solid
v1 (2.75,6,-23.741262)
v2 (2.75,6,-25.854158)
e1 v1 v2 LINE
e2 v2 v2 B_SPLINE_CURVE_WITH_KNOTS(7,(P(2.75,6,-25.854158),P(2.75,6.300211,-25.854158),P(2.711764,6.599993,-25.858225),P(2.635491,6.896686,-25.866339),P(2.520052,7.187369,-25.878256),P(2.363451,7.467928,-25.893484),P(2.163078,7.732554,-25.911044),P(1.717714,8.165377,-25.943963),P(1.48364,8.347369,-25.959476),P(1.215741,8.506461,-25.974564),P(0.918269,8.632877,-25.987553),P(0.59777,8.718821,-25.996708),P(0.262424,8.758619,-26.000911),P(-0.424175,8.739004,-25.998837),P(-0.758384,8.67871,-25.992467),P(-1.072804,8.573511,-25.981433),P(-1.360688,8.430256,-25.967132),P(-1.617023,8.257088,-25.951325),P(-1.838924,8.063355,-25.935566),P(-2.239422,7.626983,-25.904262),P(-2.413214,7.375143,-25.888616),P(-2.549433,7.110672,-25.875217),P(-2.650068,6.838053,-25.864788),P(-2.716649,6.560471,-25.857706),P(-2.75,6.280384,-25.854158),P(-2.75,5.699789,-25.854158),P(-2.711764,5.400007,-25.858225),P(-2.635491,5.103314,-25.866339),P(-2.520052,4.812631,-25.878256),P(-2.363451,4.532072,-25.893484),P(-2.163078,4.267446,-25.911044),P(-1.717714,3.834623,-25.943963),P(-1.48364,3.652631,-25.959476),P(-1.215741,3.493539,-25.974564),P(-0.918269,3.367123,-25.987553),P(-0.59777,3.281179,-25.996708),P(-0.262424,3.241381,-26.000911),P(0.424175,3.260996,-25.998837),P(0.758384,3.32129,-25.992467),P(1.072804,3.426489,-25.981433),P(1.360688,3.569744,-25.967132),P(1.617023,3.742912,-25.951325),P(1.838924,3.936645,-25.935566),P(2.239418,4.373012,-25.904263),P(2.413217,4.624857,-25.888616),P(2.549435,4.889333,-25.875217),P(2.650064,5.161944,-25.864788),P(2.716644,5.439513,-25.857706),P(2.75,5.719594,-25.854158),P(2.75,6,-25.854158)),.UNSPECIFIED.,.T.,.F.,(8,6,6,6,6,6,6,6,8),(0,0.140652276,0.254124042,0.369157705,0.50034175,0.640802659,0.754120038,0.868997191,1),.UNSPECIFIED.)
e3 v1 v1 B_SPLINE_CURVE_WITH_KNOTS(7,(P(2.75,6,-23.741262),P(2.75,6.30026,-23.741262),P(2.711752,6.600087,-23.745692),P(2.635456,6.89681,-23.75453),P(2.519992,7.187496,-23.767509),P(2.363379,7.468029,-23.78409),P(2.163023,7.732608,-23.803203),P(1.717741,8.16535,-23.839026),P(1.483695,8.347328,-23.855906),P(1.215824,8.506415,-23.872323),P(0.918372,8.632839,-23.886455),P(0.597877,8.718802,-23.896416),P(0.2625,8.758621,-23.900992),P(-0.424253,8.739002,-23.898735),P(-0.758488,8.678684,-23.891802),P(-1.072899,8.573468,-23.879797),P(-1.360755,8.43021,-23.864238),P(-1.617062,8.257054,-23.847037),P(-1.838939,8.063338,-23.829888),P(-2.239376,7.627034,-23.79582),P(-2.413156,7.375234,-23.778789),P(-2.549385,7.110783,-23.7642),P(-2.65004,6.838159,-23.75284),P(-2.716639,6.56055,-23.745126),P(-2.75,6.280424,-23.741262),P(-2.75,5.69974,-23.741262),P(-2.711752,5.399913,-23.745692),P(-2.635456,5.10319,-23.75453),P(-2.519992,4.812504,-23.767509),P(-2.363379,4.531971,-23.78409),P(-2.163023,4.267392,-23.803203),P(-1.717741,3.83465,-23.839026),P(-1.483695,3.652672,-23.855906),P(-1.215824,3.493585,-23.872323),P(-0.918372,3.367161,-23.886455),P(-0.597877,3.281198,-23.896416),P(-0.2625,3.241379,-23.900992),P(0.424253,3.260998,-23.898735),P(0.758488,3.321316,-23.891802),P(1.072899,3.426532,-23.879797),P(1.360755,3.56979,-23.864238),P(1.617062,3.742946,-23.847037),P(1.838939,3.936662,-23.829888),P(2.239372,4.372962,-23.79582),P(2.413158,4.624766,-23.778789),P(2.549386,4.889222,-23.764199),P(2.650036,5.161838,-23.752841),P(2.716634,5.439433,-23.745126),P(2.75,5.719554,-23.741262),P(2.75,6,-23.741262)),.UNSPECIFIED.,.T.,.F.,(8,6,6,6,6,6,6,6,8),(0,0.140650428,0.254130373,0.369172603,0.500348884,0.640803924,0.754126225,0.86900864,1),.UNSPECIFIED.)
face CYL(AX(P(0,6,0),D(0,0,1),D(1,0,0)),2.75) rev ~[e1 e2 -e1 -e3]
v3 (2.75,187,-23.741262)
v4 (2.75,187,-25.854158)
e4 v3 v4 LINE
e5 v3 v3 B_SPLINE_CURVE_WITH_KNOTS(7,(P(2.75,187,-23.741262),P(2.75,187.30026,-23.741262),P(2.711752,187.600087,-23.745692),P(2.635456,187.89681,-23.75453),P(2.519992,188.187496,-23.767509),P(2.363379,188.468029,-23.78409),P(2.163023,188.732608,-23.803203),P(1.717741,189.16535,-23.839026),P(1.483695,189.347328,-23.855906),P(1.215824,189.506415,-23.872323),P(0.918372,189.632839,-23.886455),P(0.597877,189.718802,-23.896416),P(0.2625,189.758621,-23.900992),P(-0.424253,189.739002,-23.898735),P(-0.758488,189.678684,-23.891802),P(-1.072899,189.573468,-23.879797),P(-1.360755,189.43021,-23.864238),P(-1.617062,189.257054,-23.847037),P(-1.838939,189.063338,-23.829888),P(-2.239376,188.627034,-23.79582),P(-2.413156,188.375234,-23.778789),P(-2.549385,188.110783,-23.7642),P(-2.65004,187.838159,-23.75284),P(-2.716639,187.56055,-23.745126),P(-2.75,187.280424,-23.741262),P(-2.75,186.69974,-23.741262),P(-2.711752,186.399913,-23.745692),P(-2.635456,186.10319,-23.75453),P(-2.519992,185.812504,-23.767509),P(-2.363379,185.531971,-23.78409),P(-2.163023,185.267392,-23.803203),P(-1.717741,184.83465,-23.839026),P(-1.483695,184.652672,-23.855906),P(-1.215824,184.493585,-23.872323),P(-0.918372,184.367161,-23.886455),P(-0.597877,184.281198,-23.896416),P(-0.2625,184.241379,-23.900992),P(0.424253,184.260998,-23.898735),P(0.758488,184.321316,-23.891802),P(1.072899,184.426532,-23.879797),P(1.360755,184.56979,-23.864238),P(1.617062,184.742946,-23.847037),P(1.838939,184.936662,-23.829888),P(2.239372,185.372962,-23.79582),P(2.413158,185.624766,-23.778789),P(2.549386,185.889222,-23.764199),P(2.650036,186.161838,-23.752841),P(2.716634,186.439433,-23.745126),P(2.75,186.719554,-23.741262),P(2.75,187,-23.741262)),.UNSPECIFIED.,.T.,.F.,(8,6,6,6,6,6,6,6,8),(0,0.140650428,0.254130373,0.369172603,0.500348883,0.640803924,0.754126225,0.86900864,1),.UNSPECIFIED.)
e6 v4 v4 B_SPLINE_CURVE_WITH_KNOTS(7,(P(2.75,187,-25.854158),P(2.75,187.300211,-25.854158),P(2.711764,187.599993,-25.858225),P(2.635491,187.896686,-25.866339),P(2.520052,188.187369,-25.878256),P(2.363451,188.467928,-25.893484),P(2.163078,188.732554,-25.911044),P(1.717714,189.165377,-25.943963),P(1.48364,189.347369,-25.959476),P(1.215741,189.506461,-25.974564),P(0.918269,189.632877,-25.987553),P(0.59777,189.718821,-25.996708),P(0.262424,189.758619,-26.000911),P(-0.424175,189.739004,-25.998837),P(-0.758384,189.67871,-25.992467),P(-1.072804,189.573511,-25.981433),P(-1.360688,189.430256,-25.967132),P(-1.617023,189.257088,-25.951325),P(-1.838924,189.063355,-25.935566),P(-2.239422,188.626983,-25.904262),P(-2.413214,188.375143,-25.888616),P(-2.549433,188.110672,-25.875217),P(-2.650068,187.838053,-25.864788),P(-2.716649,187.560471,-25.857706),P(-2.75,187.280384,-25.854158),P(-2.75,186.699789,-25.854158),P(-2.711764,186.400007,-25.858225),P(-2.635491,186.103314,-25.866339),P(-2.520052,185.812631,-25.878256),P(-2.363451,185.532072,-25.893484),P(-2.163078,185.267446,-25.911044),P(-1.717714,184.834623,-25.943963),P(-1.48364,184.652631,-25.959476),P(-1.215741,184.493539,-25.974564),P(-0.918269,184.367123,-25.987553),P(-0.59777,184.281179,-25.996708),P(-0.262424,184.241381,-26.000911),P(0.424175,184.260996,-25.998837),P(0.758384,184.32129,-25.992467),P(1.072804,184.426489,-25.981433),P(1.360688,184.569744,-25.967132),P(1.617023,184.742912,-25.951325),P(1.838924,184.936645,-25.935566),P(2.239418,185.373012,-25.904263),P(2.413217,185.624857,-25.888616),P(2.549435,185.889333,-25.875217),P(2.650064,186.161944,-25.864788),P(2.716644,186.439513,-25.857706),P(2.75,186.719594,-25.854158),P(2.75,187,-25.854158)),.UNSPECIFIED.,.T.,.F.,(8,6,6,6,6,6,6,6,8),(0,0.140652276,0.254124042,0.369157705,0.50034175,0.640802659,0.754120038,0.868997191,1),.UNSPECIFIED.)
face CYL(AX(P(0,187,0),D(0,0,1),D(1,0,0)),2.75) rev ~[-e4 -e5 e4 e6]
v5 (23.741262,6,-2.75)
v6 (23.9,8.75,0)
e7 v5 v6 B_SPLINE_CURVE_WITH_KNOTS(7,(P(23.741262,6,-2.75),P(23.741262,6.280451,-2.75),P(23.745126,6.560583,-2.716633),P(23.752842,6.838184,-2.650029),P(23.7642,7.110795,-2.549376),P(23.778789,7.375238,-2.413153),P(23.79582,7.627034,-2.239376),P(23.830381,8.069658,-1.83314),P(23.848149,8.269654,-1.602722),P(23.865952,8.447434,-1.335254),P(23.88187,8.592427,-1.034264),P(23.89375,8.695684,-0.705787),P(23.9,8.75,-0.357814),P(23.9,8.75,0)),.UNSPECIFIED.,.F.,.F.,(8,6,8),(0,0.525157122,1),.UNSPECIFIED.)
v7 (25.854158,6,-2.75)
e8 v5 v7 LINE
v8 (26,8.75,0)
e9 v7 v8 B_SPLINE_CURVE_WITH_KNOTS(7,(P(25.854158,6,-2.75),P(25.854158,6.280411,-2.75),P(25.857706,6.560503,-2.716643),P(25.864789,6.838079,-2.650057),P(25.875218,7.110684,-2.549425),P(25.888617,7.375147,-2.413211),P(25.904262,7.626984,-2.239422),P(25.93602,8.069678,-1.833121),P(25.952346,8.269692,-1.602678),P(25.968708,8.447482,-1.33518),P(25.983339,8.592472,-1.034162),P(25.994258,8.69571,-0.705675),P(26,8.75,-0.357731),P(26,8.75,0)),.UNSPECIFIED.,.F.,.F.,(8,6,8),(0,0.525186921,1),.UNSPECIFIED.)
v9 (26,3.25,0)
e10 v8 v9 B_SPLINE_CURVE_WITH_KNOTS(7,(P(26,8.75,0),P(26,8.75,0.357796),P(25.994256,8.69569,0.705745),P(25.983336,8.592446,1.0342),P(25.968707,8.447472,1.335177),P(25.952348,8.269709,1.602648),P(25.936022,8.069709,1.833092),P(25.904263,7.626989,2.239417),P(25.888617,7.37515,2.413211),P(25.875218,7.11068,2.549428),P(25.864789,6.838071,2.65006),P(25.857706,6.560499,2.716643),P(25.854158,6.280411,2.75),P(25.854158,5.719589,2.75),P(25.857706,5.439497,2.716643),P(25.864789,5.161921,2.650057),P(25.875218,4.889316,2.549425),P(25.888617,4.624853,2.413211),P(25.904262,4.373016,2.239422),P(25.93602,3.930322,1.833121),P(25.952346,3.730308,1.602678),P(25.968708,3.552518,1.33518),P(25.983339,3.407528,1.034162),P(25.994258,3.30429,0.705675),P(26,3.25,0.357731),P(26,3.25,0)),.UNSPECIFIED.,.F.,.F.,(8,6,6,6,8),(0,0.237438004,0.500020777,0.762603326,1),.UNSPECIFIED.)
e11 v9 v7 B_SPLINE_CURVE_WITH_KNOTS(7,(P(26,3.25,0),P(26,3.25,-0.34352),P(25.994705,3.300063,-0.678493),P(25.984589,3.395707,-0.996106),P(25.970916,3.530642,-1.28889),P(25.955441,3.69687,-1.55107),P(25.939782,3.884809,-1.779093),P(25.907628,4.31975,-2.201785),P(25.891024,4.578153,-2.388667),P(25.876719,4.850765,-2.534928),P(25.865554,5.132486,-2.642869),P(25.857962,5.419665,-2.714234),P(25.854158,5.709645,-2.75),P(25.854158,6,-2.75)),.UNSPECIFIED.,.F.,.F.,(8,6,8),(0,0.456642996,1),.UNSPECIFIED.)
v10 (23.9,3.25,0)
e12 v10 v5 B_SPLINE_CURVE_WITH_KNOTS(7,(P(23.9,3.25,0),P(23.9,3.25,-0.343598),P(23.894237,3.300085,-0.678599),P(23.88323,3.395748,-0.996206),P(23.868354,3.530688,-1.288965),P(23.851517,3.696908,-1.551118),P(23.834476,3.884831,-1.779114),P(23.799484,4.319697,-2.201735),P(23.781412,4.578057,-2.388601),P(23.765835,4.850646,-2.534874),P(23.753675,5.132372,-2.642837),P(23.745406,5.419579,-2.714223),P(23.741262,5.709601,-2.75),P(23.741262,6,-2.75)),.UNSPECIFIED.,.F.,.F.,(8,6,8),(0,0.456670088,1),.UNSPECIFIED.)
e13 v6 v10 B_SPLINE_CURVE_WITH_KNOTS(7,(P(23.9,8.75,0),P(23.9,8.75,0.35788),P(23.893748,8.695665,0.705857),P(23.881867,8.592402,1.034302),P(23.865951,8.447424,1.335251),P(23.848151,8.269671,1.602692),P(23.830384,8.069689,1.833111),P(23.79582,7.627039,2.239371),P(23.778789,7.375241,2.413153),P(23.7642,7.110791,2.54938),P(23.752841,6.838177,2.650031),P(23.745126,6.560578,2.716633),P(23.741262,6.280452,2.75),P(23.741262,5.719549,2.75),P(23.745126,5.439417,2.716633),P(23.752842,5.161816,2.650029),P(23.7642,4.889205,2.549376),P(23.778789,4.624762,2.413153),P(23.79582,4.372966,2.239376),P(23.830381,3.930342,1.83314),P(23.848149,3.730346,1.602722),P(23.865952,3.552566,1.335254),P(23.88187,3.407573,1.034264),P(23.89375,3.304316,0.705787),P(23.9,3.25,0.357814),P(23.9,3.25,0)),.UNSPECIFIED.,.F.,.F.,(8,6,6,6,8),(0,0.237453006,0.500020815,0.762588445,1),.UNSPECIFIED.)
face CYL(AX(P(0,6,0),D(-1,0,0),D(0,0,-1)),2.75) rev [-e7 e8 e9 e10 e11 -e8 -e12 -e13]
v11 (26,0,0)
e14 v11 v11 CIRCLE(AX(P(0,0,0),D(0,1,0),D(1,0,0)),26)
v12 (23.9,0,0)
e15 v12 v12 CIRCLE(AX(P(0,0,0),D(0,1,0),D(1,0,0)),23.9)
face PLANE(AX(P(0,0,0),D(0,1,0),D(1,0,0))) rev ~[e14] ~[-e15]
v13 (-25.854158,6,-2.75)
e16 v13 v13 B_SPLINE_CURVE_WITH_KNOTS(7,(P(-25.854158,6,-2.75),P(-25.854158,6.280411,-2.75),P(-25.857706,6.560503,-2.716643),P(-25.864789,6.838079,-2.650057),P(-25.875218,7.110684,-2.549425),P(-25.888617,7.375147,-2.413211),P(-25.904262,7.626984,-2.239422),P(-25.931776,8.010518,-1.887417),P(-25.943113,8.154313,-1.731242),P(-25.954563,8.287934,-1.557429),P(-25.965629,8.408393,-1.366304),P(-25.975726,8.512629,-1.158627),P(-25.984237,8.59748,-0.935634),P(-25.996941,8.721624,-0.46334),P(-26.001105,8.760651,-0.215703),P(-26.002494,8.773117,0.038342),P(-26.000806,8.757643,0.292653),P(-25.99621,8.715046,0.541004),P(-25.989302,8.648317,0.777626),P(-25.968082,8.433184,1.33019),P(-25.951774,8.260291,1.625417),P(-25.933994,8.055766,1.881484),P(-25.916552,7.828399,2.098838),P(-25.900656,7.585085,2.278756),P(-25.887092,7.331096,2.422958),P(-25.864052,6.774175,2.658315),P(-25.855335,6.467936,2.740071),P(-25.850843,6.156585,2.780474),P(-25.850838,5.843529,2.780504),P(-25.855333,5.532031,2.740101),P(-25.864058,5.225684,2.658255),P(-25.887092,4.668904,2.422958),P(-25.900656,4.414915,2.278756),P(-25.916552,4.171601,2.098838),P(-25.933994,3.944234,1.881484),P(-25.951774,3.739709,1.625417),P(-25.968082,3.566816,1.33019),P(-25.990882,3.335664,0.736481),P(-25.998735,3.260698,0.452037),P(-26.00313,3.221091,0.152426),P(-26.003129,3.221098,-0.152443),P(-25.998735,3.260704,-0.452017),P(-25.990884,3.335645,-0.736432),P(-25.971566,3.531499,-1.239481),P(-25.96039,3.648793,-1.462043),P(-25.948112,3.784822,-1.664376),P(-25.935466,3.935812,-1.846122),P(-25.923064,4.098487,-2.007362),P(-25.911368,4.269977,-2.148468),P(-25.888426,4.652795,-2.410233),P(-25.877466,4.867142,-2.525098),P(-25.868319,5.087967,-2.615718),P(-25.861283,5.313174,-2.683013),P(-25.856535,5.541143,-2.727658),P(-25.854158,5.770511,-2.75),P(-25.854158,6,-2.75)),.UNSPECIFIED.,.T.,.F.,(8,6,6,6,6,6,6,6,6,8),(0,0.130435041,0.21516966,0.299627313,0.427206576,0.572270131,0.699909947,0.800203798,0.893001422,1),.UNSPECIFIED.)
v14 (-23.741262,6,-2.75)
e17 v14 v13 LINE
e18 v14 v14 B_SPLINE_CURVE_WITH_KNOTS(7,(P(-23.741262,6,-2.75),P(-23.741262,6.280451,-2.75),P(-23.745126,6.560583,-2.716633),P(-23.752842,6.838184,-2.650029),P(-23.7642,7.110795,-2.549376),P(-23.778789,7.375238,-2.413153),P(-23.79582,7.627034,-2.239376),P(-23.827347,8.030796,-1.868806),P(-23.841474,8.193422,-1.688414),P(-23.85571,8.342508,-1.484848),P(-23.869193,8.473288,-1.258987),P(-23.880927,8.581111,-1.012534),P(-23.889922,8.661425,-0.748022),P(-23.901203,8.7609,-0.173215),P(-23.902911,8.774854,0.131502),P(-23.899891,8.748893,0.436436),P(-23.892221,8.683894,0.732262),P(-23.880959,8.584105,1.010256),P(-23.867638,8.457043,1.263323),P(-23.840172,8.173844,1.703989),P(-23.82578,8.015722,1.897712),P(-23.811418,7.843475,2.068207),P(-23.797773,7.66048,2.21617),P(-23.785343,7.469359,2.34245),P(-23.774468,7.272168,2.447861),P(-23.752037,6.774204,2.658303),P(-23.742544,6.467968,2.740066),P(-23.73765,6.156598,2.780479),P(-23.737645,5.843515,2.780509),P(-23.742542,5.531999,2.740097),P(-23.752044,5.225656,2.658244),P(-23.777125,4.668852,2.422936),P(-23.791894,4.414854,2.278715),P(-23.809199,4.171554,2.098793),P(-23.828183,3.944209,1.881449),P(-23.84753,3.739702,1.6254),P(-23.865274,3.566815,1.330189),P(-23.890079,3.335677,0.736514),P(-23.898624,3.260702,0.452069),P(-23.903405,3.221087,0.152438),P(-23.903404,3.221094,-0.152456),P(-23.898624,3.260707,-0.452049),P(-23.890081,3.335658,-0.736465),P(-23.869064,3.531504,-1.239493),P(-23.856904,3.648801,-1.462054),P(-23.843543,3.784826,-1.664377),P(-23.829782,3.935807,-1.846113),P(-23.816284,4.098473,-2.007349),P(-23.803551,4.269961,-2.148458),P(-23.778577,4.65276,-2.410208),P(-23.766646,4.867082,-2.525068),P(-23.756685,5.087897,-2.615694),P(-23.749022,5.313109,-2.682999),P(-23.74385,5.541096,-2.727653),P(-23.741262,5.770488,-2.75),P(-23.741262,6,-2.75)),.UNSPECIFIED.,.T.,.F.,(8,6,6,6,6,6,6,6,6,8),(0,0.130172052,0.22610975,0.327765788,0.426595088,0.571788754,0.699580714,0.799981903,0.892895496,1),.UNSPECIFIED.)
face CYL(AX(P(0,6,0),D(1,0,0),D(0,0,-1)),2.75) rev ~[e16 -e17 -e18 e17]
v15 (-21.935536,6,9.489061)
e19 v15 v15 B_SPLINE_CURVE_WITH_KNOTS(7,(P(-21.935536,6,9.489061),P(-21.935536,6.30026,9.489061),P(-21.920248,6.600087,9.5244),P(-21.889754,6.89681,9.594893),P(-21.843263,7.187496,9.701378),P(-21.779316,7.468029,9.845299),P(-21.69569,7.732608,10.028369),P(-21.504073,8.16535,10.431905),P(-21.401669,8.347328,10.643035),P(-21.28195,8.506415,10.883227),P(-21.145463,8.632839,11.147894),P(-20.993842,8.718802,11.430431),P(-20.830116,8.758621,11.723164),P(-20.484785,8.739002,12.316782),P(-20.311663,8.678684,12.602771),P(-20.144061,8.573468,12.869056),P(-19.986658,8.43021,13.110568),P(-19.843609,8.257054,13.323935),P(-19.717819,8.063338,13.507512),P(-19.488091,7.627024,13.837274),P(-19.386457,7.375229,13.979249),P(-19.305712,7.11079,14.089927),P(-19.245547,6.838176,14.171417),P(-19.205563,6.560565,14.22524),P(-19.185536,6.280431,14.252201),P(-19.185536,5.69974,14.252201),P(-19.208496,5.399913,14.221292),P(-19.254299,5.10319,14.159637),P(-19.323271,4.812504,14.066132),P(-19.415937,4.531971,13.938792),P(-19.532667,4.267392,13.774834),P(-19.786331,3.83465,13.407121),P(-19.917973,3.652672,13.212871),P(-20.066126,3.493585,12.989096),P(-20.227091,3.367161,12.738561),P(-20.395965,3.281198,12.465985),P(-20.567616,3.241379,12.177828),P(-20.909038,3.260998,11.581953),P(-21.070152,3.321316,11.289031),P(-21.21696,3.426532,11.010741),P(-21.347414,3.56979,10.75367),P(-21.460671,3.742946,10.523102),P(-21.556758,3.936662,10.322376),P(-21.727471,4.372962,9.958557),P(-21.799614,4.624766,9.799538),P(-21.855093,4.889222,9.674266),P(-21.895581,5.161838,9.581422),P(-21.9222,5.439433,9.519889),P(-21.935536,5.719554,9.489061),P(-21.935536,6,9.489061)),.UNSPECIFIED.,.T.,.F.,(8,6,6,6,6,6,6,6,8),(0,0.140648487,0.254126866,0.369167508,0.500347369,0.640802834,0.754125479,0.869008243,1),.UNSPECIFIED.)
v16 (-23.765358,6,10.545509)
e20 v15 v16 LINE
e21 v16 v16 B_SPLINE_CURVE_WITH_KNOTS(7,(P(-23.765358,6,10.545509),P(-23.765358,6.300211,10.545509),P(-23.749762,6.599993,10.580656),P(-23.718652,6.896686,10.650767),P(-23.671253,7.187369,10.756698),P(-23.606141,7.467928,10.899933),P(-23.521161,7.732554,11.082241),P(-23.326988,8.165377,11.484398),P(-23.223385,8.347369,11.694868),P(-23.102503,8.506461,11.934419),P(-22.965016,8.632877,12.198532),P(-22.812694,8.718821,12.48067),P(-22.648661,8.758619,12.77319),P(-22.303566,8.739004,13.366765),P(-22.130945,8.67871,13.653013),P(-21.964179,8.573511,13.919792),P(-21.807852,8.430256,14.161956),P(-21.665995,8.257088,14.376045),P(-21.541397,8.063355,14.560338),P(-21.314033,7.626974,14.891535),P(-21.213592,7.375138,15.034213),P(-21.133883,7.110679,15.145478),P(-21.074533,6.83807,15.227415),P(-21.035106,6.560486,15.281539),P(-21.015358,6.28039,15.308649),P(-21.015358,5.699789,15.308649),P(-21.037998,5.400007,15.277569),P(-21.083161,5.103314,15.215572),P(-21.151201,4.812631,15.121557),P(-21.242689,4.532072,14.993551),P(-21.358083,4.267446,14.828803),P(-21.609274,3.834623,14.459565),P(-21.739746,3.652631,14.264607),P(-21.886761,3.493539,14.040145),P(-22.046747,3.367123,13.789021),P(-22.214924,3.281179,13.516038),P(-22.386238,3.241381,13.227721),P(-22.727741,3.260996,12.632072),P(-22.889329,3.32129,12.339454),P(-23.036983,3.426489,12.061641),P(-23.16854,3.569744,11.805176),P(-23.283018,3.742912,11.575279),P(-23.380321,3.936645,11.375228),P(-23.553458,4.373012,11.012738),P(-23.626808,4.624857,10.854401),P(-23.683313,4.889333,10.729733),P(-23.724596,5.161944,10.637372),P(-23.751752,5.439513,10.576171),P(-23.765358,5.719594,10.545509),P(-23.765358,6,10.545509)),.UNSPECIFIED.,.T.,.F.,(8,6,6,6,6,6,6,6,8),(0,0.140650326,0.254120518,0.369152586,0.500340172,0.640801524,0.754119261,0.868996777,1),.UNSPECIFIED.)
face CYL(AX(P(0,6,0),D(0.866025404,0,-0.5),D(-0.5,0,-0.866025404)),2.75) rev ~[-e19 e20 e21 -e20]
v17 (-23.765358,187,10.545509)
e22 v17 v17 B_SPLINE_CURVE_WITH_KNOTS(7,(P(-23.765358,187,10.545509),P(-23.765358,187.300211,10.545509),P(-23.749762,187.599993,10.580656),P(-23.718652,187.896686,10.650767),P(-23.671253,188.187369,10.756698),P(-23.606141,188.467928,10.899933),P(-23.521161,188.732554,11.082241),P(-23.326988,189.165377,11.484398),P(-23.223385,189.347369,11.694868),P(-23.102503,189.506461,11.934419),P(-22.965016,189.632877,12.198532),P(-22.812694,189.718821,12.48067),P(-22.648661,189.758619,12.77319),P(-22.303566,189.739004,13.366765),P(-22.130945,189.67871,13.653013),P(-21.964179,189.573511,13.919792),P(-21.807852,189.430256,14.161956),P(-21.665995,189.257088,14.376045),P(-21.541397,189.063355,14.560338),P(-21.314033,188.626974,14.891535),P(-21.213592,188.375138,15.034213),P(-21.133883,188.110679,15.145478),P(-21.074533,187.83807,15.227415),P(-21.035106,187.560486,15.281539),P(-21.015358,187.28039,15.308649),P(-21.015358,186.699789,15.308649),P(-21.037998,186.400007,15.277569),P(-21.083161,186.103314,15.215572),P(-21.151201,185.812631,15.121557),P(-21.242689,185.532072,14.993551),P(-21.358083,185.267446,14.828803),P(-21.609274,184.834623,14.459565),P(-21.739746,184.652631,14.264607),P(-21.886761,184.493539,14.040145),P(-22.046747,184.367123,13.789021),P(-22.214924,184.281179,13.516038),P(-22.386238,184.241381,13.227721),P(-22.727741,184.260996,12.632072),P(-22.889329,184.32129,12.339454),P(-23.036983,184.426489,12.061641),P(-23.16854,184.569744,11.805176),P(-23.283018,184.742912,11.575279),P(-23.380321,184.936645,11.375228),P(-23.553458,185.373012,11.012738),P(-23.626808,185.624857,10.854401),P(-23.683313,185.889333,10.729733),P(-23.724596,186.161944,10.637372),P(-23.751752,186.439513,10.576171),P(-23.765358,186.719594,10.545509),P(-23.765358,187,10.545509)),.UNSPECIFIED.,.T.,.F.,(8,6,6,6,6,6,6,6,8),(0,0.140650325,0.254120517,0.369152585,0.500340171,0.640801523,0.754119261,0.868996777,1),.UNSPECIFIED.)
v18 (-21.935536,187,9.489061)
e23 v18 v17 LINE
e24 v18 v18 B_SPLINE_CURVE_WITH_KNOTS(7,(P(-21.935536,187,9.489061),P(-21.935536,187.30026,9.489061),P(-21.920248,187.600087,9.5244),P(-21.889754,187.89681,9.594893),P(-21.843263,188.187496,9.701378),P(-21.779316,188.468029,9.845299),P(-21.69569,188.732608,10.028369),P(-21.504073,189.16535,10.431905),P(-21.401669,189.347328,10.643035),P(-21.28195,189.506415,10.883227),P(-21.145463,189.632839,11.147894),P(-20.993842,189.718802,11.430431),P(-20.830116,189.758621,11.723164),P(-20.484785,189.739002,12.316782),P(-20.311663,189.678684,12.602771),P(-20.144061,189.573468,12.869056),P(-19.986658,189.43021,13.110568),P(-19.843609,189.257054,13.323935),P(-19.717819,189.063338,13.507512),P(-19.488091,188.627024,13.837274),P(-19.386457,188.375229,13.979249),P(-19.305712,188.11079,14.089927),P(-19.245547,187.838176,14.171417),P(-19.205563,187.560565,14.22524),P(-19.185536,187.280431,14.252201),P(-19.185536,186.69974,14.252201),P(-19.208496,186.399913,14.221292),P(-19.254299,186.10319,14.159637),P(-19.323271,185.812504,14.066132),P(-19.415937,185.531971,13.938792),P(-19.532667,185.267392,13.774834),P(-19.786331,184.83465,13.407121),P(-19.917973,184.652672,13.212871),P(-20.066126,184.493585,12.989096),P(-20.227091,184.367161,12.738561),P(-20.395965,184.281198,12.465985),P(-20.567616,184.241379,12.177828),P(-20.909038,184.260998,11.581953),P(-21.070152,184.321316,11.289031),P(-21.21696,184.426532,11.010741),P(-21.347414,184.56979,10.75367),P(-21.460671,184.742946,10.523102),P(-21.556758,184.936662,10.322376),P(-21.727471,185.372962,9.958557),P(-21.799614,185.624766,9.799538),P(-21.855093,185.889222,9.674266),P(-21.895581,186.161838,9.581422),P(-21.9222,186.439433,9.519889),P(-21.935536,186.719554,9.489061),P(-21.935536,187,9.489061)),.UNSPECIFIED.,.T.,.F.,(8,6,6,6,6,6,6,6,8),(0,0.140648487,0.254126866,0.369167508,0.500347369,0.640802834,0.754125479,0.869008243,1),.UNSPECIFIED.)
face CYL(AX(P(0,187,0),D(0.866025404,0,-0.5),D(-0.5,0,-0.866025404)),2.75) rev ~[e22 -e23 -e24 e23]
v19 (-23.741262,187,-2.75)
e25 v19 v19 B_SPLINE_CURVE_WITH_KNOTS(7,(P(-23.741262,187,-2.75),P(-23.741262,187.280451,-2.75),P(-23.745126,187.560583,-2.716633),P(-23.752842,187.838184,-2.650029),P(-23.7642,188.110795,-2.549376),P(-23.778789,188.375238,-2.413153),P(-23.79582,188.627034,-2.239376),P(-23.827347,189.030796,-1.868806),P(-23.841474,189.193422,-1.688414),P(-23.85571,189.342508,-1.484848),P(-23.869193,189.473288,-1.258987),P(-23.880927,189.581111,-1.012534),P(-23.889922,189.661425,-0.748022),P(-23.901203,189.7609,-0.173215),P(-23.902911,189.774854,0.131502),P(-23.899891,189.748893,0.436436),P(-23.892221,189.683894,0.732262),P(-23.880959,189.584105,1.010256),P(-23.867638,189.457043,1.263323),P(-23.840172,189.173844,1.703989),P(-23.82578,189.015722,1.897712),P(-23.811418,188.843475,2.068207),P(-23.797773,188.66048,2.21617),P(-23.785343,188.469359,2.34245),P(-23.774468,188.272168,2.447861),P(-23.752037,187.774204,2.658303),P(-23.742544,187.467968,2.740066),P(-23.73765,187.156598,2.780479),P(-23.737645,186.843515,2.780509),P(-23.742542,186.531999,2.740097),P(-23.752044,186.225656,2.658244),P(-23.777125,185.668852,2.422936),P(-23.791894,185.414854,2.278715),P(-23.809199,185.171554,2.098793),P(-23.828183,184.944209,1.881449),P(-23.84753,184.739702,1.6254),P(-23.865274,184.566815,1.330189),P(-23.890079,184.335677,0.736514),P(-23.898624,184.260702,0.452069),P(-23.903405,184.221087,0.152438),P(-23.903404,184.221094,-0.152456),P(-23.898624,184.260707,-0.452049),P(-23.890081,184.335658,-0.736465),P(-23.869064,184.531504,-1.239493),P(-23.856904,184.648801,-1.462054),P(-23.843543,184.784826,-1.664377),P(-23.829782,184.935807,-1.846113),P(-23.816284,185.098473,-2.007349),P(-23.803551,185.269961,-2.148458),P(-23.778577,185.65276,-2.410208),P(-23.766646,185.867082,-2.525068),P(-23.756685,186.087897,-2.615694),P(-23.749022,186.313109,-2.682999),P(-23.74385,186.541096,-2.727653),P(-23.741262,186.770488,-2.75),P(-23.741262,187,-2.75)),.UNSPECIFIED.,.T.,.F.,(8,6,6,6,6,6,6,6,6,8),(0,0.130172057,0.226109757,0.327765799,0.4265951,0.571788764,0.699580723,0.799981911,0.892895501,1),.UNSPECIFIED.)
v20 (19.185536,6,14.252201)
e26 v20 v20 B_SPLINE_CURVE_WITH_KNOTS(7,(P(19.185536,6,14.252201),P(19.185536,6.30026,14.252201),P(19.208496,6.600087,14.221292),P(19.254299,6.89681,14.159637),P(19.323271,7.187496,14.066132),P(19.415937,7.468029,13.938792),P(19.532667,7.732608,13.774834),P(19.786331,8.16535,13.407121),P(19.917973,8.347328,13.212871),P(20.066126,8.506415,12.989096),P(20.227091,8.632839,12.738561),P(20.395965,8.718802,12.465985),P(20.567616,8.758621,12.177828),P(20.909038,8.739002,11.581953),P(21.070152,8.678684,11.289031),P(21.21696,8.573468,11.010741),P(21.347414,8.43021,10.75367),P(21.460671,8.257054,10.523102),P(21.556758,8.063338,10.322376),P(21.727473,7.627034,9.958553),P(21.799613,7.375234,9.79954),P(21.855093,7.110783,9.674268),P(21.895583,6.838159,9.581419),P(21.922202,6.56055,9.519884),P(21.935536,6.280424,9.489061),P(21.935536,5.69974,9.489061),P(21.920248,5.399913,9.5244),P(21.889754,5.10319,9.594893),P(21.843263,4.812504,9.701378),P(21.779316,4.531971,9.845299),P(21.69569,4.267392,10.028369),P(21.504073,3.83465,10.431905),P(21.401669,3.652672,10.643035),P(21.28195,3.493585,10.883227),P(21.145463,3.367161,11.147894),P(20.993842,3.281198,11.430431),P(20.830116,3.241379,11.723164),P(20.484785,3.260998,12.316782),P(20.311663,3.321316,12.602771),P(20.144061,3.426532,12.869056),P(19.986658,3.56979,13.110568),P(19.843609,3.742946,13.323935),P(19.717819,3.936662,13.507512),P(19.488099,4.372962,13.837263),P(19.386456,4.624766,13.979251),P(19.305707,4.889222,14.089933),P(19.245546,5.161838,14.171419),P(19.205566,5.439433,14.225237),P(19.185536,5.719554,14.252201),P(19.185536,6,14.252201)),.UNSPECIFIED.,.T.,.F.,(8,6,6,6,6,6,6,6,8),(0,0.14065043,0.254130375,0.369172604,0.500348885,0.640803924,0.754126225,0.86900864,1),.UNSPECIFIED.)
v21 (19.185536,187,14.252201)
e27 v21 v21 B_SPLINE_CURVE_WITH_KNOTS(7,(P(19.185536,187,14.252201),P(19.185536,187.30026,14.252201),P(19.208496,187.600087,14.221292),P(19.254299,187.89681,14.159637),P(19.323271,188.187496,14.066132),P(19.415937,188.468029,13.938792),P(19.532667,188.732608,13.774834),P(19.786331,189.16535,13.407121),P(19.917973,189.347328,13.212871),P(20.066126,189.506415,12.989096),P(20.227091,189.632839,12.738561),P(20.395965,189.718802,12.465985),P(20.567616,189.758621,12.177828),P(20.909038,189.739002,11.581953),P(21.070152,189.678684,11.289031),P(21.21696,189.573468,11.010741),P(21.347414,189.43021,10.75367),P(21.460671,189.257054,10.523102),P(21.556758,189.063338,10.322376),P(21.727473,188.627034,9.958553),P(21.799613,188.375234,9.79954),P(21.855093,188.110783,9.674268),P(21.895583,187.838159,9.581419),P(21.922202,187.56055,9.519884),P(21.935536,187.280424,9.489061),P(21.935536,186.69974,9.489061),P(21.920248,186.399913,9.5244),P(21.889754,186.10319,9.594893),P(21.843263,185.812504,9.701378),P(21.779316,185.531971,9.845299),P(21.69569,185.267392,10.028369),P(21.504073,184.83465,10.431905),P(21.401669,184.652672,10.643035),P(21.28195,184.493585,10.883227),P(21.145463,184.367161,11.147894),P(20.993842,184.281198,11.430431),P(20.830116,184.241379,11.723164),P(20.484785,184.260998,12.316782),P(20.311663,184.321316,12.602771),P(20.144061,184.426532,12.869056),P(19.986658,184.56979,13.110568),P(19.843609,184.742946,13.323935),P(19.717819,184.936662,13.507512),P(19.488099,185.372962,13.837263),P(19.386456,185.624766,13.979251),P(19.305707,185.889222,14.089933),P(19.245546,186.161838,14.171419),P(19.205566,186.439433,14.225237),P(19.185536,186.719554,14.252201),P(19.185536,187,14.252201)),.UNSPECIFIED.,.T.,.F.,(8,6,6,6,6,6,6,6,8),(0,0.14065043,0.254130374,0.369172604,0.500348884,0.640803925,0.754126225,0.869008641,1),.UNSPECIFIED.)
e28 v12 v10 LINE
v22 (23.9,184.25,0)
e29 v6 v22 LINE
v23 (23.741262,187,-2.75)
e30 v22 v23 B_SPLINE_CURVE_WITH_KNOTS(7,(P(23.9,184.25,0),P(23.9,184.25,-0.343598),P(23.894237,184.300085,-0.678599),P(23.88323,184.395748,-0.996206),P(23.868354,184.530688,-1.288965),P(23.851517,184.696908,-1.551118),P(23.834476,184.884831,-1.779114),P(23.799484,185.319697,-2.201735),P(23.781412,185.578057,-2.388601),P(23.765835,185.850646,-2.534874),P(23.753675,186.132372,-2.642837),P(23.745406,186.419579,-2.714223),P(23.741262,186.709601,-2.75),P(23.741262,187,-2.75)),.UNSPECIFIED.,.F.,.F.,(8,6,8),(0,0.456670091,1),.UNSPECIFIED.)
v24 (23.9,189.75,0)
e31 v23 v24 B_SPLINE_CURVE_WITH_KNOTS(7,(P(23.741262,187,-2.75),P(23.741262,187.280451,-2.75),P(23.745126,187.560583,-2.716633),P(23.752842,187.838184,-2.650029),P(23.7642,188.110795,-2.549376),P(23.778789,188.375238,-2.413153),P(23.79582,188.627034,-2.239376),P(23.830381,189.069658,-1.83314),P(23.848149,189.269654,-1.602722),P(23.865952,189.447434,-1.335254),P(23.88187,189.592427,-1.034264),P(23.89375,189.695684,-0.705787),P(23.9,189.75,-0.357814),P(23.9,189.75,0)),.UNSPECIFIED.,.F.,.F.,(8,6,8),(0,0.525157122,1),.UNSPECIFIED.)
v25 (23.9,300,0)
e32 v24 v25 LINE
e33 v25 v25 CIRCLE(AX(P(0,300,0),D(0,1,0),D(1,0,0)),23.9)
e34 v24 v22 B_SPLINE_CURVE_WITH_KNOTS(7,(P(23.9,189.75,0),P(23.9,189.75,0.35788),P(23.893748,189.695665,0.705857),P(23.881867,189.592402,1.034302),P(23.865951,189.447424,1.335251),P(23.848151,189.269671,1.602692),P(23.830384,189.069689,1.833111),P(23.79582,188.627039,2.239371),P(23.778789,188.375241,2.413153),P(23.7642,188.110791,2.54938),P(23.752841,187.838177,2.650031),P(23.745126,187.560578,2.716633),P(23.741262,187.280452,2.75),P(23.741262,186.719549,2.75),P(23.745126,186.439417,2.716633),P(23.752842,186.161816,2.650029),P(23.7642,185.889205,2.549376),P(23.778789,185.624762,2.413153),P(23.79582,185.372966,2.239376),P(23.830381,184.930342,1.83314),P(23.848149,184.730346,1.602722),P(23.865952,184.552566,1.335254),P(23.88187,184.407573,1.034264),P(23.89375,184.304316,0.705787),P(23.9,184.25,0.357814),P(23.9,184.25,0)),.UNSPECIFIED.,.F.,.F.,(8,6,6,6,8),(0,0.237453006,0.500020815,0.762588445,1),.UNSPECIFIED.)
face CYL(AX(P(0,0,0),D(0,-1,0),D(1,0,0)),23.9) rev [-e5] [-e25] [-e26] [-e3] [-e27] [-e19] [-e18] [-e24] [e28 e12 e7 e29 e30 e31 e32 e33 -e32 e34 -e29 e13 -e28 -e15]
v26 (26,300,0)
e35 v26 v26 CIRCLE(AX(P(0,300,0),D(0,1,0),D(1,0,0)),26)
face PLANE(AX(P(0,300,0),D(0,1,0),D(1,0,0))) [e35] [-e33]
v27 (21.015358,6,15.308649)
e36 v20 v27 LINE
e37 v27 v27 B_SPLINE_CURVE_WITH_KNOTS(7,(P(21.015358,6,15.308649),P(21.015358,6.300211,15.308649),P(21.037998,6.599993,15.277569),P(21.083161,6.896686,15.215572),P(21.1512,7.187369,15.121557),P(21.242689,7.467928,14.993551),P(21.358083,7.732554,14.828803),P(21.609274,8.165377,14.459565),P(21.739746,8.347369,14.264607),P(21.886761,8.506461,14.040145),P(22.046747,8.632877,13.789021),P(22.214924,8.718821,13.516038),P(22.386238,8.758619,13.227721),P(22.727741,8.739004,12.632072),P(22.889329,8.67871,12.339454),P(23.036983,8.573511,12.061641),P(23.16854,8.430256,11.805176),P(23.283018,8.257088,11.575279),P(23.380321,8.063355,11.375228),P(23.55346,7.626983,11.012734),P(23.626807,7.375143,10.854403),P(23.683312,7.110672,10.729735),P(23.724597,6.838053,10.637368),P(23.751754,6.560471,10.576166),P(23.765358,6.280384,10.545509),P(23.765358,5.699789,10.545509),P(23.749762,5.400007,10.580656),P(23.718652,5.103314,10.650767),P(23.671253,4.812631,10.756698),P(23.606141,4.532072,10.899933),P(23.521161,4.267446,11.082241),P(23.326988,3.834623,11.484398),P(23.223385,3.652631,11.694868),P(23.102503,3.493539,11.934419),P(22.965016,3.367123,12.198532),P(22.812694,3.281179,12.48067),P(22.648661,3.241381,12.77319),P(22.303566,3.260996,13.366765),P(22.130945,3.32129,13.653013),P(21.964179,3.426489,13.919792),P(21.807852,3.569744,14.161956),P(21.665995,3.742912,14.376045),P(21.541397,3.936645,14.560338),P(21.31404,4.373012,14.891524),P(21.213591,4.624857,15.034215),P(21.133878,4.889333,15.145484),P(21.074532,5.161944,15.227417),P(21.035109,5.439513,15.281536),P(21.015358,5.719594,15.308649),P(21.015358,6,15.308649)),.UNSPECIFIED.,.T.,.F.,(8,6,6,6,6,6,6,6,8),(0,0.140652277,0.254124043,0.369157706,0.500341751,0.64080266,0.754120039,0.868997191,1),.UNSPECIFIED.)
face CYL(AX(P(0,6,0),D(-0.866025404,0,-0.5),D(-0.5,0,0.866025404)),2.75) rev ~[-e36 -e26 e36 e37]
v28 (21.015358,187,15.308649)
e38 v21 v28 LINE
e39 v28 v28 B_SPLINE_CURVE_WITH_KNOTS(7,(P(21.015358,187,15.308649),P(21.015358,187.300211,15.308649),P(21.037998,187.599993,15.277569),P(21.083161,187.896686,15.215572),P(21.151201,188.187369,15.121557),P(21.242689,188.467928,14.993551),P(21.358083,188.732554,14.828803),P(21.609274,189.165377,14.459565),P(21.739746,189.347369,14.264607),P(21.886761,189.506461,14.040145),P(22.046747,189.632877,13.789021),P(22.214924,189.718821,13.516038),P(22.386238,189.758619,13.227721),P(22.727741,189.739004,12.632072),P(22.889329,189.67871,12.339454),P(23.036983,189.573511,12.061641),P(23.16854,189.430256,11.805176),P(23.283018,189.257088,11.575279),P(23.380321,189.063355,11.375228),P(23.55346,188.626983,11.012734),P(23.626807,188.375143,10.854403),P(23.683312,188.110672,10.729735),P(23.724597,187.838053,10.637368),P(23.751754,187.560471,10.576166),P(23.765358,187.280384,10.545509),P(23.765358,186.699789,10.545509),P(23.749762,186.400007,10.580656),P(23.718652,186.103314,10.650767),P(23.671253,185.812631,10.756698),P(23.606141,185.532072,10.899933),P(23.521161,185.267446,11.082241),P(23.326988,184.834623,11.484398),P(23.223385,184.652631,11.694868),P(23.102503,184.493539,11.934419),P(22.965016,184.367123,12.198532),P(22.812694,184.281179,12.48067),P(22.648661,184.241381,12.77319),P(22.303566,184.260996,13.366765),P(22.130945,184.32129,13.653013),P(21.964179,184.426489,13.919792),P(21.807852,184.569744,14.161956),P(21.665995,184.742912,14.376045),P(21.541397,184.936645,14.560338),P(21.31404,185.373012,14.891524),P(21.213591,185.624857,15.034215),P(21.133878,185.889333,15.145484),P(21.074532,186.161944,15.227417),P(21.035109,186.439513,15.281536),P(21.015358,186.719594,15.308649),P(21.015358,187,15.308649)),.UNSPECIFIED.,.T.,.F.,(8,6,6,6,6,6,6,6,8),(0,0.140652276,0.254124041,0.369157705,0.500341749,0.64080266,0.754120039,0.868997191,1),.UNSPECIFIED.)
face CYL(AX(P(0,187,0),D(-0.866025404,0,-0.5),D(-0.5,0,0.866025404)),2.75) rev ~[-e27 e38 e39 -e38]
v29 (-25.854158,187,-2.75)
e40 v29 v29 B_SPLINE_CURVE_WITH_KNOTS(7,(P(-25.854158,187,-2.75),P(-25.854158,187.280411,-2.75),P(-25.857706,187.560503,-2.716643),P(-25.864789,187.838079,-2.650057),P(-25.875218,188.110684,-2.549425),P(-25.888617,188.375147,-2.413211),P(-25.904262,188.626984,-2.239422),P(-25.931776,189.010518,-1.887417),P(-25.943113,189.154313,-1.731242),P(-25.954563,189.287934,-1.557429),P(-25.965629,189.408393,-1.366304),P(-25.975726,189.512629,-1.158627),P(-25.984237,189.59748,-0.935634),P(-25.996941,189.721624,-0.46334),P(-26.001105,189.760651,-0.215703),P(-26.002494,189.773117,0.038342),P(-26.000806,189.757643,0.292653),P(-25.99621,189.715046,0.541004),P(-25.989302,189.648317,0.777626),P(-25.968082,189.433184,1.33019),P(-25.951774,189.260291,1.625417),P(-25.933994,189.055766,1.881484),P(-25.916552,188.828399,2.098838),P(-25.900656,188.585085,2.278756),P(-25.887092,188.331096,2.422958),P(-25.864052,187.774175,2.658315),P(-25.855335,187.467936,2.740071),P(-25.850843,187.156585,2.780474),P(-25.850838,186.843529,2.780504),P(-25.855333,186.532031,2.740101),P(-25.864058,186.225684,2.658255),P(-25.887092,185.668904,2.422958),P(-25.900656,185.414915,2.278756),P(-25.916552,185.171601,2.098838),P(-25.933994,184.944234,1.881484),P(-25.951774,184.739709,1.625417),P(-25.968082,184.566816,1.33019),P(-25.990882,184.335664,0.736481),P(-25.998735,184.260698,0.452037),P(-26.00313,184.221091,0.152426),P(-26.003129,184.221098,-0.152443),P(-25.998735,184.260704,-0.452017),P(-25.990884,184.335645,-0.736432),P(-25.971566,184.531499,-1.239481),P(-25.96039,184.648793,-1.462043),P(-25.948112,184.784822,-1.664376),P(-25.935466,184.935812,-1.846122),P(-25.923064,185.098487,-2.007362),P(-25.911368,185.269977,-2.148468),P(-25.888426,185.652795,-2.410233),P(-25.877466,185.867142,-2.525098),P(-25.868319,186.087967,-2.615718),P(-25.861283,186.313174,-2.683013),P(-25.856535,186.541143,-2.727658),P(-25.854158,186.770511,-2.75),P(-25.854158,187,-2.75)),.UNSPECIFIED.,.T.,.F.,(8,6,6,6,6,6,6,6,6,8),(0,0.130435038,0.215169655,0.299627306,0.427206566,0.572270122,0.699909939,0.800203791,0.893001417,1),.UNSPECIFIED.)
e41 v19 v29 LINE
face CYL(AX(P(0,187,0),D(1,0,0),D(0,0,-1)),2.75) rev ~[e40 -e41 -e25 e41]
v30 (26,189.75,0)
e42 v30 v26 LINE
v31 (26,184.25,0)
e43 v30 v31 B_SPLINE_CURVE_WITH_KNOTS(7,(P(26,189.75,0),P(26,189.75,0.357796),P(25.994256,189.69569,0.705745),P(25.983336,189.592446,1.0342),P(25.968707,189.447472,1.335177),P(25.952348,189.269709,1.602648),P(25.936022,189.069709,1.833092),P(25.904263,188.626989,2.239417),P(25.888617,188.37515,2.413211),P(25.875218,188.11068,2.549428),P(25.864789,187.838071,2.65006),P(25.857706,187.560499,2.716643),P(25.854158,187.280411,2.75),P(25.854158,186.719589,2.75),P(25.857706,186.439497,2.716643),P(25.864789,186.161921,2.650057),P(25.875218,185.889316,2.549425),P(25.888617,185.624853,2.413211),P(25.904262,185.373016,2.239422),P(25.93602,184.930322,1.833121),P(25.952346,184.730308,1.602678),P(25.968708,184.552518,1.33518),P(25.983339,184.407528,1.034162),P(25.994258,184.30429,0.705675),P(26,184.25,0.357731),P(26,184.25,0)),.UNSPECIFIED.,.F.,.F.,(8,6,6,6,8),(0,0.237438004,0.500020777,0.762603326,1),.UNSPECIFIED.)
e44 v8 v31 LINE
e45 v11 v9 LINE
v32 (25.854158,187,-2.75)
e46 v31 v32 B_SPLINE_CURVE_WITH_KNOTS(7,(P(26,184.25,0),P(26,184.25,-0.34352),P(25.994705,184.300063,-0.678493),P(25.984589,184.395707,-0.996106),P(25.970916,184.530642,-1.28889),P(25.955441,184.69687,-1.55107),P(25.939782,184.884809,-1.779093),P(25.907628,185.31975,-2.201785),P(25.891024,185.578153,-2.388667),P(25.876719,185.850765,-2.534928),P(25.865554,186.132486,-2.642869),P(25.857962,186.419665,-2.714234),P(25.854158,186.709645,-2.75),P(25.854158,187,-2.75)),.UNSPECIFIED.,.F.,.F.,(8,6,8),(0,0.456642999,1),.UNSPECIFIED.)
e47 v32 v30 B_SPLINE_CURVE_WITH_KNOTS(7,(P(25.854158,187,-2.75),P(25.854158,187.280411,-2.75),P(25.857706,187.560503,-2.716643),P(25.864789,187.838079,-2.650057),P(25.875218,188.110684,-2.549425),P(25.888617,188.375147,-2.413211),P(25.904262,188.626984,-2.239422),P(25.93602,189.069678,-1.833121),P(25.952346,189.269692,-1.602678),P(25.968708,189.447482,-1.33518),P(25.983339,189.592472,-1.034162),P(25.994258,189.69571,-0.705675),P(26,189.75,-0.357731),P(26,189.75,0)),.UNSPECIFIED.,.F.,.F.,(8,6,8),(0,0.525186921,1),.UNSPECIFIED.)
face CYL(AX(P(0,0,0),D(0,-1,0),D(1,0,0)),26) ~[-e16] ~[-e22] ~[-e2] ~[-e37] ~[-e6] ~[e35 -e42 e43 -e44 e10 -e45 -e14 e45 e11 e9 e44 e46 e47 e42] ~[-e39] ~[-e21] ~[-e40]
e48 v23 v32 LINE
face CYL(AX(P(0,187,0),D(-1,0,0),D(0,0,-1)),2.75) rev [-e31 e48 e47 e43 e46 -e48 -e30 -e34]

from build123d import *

# Parameters (mm, degrees)
SKETCH1_R               = 26
SKETCH1_R_2             = 23.9
BOSS_EXTRUDE1_DEPTH     = 300
SKETCH3_R               = 2.75
CUT_EXTRUDE2_DEPTH      = 27
CIRPATTERN1_COUNT       = 3
SKETCH5_R               = 2.75
CUT_EXTRUDE3_DEPTH      = 27.0000001
CUT_EXTRUDE3_DEPTH_BACK = 27.0000001


with BuildPart() as part:
    # Sketch1 → Boss-Extrude1 (new body)
    with BuildSketch(Plane(origin=(0, 0, 0), x_dir=(1, 0, 0), z_dir=(0, 1, 0))):
        Circle(SKETCH1_R)
        Circle(SKETCH1_R_2, mode=Mode.SUBTRACT)
    extrude(amount=BOSS_EXTRUDE1_DEPTH)

    # Sketch3 → Cut-Extrude2 (cut, through all)
    with BuildSketch(Plane.XY):
        with Locations((0, 6)):
            Circle(SKETCH3_R)
        with Locations((0, 187)):
            Circle(SKETCH3_R)
    cut_extrude2 = extrude(amount=-CUT_EXTRUDE2_DEPTH, mode=Mode.SUBTRACT)

    # CirPattern1: Cut-Extrude2 ×3 about axis
    cirpattern1_axis = Axis((0, 300, 0), (0, -1, 0))
    for i in range(1, CIRPATTERN1_COUNT):
        add(cut_extrude2.rotate(cirpattern1_axis, i * 360 / CIRPATTERN1_COUNT), mode=Mode.SUBTRACT)

    # Sketch5 → Cut-Extrude3 (cut, two sides)
    with BuildSketch(Plane(origin=(0, 0, 0), x_dir=(0, 0, -1), z_dir=(1, 0, 0))) as cut_extrude3_sk:
        with Locations((0, 187)):
            Circle(SKETCH5_R)
        with Locations((0, 6)):
            Circle(SKETCH5_R)
    extrude(amount=CUT_EXTRUDE3_DEPTH, mode=Mode.SUBTRACT)
    extrude(cut_extrude3_sk.sketch, amount=-CUT_EXTRUDE3_DEPTH_BACK, mode=Mode.SUBTRACT)


solid = part.part
